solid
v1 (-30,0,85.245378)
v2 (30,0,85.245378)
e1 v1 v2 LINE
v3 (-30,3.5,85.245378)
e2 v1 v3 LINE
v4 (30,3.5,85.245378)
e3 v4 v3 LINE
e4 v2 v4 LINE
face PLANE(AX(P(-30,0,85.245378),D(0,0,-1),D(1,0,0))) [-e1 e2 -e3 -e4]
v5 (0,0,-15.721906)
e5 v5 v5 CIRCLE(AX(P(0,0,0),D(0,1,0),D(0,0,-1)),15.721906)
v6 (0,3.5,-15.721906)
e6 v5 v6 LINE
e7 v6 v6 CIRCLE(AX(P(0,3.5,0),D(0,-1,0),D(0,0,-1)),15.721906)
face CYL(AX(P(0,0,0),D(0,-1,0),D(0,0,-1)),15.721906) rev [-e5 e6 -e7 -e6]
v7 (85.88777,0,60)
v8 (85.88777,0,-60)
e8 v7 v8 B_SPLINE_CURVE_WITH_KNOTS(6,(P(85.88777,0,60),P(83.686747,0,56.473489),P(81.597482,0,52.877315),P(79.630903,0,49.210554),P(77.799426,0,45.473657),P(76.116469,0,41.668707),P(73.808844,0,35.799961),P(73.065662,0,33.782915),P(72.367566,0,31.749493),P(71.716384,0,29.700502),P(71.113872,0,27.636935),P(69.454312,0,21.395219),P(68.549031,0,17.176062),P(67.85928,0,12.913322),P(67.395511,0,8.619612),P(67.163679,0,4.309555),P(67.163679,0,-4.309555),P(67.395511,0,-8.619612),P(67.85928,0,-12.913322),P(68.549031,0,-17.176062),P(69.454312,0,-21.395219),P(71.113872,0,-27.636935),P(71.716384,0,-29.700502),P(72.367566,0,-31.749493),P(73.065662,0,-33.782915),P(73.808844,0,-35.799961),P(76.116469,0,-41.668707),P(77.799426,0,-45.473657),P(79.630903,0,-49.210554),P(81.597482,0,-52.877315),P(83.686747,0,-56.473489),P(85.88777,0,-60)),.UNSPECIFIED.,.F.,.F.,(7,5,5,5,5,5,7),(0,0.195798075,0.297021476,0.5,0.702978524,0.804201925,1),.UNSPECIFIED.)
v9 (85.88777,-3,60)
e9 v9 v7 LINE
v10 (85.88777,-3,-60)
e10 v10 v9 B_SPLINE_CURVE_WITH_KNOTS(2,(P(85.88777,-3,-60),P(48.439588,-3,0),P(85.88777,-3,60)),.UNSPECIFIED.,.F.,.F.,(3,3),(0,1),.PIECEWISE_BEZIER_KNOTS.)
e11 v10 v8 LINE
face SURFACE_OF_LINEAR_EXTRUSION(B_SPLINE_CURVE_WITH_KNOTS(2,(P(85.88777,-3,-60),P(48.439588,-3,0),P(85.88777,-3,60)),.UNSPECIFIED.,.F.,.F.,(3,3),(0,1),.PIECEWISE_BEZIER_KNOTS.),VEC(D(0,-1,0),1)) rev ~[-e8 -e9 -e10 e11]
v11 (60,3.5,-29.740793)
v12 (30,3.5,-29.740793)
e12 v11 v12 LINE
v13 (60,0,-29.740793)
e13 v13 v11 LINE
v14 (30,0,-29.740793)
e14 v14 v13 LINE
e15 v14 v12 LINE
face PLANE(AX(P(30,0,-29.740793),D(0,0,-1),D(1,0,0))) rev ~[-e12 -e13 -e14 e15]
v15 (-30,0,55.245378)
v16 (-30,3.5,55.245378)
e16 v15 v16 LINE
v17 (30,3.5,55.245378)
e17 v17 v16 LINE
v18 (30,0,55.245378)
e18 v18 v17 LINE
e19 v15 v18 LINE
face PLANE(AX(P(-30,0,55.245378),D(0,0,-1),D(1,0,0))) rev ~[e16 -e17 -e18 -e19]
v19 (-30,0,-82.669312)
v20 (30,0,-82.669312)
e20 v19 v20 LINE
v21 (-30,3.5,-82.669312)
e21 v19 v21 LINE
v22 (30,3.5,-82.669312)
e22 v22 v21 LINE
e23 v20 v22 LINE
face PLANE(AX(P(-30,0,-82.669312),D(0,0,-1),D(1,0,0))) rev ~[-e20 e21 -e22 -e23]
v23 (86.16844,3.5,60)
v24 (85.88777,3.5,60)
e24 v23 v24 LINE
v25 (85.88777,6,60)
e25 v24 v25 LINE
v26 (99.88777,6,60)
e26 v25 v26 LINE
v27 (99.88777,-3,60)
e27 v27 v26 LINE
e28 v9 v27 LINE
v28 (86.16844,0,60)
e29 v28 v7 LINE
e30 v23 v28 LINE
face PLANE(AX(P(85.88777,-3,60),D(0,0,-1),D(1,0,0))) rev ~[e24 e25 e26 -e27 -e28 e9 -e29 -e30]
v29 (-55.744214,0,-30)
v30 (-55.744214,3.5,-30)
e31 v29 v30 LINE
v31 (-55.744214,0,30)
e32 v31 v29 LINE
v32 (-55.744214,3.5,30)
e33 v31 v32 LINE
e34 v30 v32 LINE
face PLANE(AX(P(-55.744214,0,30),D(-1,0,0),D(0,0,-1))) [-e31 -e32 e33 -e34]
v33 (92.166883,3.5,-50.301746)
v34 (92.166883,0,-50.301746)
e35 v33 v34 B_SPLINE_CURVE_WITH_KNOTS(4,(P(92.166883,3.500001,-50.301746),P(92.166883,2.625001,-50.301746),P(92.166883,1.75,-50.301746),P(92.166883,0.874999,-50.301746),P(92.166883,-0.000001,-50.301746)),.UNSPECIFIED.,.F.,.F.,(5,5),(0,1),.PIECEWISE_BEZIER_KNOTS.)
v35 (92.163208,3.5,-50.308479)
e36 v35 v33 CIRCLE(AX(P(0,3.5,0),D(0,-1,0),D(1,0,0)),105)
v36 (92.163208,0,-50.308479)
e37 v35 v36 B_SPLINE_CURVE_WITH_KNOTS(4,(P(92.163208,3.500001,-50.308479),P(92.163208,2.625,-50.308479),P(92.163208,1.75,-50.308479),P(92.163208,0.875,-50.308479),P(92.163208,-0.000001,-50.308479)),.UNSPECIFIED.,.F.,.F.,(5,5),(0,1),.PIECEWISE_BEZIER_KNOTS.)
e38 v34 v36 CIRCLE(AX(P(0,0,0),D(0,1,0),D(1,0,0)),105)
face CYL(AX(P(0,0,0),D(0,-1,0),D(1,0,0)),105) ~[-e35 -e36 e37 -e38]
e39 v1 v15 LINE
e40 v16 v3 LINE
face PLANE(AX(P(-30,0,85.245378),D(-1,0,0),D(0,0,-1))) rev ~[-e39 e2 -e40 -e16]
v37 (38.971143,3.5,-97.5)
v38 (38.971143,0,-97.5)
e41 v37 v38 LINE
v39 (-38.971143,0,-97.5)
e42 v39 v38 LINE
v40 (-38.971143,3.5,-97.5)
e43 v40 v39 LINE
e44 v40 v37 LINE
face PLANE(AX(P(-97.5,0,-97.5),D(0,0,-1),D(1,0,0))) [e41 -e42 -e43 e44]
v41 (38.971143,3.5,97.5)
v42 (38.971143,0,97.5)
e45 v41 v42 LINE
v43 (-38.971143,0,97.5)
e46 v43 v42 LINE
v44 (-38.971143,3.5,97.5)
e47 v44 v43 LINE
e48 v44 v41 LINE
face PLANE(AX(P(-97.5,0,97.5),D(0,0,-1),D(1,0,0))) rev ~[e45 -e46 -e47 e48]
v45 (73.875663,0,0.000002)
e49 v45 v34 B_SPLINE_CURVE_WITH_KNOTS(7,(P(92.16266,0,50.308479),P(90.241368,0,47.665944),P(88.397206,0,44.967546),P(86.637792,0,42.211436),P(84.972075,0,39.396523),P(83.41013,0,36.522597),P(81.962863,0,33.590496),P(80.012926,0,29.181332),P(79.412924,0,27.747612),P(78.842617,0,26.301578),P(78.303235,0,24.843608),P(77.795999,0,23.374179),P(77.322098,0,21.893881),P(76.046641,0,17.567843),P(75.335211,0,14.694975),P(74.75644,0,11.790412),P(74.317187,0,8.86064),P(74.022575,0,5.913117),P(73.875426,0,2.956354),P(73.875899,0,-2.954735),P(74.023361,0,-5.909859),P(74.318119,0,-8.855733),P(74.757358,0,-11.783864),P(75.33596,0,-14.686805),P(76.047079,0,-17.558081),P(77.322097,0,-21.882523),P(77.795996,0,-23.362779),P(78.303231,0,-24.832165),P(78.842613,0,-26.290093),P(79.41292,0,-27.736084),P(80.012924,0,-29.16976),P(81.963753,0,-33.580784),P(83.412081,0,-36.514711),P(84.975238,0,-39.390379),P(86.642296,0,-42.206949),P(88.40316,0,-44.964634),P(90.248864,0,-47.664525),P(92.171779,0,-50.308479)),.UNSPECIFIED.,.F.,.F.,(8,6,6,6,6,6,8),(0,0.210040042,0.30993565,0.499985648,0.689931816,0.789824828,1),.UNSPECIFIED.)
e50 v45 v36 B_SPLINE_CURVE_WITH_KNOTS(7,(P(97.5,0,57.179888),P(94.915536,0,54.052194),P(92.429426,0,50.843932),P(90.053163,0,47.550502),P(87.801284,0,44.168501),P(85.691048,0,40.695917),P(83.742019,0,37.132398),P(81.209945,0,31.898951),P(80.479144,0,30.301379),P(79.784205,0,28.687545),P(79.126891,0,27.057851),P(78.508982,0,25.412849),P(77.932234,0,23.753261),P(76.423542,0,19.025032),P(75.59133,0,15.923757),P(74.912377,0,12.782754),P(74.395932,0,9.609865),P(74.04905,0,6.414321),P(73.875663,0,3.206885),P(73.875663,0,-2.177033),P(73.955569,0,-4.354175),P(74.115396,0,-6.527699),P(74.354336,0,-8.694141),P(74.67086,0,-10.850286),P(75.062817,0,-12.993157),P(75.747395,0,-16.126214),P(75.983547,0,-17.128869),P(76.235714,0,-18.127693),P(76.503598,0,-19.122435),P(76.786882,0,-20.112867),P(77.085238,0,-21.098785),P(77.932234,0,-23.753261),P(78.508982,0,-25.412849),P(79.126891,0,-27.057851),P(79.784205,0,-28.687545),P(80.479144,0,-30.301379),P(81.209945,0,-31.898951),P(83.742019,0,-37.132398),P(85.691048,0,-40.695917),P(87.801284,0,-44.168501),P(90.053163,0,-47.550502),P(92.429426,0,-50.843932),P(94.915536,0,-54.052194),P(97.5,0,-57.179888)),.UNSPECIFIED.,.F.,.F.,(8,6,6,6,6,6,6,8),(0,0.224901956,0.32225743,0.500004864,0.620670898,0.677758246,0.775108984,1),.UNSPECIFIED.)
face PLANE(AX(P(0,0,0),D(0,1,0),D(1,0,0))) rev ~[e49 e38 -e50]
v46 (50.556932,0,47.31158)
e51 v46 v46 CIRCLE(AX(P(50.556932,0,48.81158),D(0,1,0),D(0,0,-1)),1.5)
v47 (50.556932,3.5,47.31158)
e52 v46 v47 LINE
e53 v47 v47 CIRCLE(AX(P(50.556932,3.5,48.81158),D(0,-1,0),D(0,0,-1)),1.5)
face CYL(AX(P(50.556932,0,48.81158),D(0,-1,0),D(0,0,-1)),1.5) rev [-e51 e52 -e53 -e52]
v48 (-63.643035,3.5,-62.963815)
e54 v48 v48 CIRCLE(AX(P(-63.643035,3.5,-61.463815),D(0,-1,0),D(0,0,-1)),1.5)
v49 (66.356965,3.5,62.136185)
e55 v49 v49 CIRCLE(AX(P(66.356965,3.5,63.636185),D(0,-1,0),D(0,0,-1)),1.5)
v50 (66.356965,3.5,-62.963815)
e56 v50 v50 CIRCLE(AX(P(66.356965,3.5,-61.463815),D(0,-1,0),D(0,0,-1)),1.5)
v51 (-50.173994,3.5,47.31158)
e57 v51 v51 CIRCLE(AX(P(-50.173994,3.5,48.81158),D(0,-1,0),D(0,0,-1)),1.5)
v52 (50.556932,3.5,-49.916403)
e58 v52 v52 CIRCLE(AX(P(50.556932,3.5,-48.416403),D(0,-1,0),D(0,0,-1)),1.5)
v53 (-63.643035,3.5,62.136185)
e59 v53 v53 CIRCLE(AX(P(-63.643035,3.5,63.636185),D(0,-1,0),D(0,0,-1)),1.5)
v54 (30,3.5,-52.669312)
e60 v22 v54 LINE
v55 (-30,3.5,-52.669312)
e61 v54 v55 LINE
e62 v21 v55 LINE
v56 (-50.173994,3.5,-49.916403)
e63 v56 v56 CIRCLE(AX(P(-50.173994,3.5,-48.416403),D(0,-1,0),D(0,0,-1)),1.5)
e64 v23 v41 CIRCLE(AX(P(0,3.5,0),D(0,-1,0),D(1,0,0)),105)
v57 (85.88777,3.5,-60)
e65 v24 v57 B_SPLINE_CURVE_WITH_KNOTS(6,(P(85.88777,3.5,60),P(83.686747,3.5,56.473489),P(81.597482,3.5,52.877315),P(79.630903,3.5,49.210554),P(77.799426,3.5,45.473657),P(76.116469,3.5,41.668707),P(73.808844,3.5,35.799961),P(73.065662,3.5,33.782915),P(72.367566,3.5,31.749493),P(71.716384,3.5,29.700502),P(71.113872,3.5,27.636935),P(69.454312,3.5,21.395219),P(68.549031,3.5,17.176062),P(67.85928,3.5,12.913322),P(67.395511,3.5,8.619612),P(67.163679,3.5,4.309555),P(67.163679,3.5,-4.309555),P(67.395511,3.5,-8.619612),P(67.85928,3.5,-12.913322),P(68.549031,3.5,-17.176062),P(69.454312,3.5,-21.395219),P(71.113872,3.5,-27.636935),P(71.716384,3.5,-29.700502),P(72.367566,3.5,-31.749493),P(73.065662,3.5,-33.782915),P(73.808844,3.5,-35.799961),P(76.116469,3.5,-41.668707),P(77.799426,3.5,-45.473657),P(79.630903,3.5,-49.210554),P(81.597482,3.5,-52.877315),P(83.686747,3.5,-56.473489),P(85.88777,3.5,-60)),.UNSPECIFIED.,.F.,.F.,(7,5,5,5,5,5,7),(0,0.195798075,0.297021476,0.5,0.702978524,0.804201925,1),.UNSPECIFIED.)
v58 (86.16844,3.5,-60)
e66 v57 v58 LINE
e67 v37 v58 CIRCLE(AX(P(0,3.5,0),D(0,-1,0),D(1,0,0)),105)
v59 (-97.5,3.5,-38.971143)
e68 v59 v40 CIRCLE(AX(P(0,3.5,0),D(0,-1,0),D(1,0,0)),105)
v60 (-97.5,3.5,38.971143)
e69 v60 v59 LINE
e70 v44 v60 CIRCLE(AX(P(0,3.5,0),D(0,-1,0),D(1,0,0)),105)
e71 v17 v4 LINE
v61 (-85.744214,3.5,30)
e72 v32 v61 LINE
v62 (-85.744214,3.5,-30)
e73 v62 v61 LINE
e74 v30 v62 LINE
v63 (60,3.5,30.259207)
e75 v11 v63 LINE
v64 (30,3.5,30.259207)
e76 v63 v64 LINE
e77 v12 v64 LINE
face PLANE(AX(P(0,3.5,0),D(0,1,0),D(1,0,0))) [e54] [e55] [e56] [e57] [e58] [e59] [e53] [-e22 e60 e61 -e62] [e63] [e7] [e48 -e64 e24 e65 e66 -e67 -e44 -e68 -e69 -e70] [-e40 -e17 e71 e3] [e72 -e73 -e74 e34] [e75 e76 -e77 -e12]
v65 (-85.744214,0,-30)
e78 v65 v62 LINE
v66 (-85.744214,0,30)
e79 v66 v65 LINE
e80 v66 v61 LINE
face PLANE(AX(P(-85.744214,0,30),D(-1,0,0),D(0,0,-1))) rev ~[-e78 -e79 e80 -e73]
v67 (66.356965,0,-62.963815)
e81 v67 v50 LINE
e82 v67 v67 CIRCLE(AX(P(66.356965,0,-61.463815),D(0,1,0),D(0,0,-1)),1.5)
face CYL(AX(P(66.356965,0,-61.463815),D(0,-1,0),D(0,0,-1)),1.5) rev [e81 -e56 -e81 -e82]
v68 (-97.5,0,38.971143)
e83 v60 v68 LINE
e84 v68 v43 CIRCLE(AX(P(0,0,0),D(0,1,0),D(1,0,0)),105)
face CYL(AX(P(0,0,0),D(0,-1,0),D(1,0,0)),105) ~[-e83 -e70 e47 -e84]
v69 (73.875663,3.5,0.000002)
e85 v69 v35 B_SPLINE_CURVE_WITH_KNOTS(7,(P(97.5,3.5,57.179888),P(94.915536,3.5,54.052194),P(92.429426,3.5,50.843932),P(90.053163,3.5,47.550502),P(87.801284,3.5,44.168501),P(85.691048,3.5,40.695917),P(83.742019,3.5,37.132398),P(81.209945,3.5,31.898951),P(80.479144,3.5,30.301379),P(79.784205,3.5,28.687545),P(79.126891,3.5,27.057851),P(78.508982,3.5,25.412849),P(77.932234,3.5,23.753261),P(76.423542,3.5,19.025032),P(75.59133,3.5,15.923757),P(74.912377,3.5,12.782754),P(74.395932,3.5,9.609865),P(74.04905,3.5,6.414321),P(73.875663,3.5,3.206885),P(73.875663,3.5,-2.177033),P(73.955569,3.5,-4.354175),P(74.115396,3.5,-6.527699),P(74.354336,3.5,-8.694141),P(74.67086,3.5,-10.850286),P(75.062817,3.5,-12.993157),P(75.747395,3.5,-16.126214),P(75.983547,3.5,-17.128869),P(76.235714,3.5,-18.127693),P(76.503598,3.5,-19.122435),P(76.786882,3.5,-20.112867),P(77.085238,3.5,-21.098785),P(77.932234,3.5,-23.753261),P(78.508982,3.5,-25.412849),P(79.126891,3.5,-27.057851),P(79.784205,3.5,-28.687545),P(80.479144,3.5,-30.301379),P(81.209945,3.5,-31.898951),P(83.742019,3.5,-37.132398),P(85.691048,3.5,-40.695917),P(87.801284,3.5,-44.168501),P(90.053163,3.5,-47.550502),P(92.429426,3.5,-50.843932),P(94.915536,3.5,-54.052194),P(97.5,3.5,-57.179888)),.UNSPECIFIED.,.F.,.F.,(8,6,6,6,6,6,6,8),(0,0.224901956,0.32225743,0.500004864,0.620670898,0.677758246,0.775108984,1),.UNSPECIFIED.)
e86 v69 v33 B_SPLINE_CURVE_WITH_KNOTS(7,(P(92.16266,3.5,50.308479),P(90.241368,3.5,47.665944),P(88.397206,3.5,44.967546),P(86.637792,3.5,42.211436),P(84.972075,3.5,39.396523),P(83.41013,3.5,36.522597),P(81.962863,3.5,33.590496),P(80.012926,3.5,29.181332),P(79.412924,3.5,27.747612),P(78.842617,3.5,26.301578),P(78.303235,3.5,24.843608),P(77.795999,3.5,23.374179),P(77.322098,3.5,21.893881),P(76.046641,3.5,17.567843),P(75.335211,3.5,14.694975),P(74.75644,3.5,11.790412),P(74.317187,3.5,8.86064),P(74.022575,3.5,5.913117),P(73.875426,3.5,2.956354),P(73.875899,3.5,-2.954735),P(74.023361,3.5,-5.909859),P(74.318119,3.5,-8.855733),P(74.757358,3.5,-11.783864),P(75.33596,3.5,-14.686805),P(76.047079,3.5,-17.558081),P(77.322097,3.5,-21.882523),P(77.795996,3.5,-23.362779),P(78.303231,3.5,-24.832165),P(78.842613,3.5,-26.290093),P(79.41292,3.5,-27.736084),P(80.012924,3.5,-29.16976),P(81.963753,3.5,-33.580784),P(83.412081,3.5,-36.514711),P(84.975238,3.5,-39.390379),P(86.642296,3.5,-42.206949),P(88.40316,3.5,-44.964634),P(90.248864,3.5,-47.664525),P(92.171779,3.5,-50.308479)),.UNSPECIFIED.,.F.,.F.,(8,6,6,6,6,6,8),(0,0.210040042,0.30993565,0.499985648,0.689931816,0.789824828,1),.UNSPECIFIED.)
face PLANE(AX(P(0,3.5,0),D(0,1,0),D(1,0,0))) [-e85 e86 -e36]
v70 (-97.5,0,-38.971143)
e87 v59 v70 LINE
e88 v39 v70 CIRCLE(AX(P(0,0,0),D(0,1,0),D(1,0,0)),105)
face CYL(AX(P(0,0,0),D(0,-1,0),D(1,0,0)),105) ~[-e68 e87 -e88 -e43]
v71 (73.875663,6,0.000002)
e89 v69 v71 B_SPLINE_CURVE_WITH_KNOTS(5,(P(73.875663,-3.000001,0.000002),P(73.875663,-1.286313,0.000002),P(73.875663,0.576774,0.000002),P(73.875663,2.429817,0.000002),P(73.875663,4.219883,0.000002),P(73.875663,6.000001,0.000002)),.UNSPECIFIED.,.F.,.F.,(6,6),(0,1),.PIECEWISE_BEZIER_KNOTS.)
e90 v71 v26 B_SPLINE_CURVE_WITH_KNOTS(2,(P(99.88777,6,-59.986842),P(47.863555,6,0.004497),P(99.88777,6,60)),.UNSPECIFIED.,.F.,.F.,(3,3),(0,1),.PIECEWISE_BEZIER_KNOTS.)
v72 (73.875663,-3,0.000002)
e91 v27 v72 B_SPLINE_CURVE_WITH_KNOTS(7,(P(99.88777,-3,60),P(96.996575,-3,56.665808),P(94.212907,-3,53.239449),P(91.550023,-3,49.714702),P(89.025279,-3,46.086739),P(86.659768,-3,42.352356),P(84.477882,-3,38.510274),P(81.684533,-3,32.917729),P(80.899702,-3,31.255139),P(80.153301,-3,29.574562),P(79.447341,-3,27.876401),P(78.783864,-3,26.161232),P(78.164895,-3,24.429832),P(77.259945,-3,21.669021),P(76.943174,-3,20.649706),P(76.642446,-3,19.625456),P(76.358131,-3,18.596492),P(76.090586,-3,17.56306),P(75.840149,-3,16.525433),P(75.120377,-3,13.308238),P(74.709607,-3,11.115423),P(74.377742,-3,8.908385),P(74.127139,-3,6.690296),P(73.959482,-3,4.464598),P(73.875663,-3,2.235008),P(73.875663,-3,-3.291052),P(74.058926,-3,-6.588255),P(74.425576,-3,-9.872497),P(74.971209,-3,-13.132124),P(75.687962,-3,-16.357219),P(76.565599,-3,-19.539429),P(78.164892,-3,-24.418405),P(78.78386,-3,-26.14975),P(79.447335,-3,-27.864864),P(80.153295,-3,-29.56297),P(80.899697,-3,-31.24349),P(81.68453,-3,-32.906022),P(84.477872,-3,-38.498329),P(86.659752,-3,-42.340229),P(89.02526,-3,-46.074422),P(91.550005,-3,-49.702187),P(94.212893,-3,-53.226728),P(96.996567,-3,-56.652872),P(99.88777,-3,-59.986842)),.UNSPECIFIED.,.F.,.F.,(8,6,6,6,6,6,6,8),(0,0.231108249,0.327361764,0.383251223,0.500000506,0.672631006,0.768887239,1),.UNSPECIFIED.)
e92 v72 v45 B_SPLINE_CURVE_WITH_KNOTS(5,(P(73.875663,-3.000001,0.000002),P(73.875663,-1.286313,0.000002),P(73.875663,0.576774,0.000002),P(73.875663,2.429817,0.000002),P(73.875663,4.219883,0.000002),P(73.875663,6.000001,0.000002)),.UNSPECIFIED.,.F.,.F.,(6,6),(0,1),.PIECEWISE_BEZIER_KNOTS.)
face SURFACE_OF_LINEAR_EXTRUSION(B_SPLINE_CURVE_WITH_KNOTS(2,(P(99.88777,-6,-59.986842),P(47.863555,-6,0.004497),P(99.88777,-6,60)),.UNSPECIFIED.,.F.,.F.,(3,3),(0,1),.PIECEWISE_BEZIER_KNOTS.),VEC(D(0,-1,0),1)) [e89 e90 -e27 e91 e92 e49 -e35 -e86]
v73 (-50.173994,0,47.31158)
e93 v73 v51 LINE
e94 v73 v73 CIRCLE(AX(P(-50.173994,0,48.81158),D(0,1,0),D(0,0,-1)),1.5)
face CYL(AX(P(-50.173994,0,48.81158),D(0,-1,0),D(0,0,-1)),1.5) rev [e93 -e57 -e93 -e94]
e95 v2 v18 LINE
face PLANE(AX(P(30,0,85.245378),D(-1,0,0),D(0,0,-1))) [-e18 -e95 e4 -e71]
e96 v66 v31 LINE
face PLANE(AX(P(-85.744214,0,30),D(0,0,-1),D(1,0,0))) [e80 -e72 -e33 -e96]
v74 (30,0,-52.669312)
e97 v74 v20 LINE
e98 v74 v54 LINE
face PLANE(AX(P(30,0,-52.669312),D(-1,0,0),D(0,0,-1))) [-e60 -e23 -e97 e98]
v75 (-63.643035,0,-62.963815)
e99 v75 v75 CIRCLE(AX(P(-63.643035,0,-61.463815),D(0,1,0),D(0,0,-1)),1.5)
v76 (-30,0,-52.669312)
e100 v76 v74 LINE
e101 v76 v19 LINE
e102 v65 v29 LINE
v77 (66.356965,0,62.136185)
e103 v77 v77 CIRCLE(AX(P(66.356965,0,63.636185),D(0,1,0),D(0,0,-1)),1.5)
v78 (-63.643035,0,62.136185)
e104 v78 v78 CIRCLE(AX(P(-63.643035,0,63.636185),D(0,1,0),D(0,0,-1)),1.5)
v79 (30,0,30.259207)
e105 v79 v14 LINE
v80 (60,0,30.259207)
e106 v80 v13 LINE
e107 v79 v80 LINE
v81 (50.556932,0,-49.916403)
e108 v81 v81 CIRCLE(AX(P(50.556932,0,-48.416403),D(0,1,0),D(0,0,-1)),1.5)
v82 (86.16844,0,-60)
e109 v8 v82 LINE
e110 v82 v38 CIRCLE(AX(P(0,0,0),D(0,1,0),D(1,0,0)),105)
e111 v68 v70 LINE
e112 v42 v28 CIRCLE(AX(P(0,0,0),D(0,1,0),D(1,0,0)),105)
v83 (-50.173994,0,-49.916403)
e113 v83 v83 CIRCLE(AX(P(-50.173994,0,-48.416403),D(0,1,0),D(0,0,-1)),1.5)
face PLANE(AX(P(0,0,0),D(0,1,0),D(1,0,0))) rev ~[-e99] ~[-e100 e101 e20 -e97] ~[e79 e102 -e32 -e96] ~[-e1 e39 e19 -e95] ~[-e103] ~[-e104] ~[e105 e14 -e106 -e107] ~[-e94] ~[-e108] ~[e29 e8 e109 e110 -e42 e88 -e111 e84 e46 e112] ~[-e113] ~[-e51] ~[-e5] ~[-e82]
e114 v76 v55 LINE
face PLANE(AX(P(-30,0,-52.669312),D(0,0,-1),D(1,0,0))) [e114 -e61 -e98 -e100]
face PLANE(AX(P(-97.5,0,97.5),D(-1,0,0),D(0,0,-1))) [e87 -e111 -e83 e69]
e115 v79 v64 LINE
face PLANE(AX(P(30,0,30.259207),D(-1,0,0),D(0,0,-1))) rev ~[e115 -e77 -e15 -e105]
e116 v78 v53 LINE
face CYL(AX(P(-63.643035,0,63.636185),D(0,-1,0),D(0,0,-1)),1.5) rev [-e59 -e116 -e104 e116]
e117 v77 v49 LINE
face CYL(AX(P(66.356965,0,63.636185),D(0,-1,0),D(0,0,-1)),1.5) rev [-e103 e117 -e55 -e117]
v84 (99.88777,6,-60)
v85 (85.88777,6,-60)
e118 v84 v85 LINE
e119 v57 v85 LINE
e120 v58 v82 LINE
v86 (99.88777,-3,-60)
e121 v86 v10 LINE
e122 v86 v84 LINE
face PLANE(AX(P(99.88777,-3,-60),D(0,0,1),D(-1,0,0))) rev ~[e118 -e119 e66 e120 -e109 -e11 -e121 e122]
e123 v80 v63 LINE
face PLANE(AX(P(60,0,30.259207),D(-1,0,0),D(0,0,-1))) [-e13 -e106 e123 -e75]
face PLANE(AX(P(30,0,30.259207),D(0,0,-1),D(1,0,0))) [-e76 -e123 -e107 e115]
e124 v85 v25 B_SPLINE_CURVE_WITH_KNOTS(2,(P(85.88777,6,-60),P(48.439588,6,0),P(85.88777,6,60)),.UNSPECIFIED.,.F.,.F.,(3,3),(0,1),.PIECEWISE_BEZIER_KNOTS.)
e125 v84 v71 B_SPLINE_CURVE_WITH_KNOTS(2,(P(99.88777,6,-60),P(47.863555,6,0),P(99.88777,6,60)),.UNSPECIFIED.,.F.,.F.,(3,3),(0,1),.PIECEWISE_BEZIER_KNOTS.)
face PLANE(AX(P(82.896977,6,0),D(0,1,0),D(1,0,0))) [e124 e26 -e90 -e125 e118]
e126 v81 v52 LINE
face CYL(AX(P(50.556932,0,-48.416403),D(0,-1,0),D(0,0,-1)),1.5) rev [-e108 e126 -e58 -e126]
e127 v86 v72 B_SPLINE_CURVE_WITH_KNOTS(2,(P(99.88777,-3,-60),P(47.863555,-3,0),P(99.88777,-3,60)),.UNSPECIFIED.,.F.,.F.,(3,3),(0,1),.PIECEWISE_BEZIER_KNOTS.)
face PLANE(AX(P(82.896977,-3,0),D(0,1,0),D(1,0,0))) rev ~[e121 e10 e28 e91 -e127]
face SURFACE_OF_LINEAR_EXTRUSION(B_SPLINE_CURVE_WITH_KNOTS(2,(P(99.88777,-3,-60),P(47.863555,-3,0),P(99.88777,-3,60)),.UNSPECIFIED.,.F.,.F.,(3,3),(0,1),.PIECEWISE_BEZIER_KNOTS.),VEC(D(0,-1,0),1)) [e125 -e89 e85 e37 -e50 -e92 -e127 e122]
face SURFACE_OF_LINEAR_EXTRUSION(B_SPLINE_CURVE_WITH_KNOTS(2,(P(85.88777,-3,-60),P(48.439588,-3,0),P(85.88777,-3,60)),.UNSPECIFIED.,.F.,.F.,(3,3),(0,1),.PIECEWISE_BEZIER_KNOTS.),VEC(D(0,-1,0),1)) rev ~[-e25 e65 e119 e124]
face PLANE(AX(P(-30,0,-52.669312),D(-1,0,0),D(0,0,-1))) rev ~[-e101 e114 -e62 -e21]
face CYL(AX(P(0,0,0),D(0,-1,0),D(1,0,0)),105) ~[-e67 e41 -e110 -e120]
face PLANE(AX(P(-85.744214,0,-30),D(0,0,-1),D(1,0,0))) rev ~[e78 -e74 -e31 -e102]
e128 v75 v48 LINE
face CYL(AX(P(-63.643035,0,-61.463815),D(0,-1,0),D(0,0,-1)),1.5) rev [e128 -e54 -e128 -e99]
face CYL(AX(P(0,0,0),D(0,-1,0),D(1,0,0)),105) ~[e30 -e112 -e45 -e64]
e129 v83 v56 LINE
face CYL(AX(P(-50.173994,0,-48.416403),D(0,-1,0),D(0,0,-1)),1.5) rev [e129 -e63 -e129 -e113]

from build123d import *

# Parameters (mm, degrees)
SKETCH1_W                = 195
SKETCH1_H                = 195
BOSS_EXTRUDE3_DEPTH      = 3.5
SKETCH2_R                = 177.836364648
SKETCH2_R_2              = 105
CUT_EXTRUDE2_DEPTH       = 30
SKETCH4_W                = 30
SKETCH4_H                = 60
SKETCH4_W_2              = 60
SKETCH4_H_2              = 30
CUT_EXTRUDE7_DEPTH       = 5
BOSS_EXTRUDE5_DEPTH      = 6
BOSS_EXTRUDE5_DEPTH_BACK = 3
CUT_EXTRUDE12_DEPTH      = 6
CUT_EXTRUDE12_DEPTH_BACK = 6
SKETCH13_R               = 1.5
SKETCH13_R_2             = 15.721905528
TOP_TO_MID_STAND_DEPTH   = 6
SKETCH14_R               = 1.5
MIT_TO_BOT_STAND_DEPTH   = 6


with BuildPart() as part:
    # Sketch1 → Boss-Extrude3 (new body)
    with BuildSketch(Plane(origin=(0, 0, 0), x_dir=(1, 0, 0), z_dir=(0, 1, 0))):
        Rectangle(SKETCH1_W, SKETCH1_H)
    extrude(amount=BOSS_EXTRUDE3_DEPTH)

    # Sketch2 → Cut-Extrude2 (cut)
    with BuildSketch(Plane(origin=(0, 0, 0), x_dir=(1, 0, 0), z_dir=(0, 1, 0))):
        Circle(SKETCH2_R)
        Circle(SKETCH2_R_2, mode=Mode.SUBTRACT)
    extrude(amount=CUT_EXTRUDE2_DEPTH, mode=Mode.SUBTRACT)

    # Sketch4 → Cut-Extrude7 (cut)
    with BuildSketch(Plane(origin=(0, 0, 0), x_dir=(1, 0, 0), z_dir=(0, 1, 0))):
        with Locations((45, -0.259206865)):
            Rectangle(SKETCH4_W, SKETCH4_H)
        with Locations((0, 67.669311598)):
            Rectangle(SKETCH4_W_2, SKETCH4_H_2)
        with Locations((-70.744213578, 0)):
            Rectangle(SKETCH4_W, SKETCH4_H)
        with Locations((0, -70.245377815)):
            Rectangle(SKETCH4_W_2, SKETCH4_H_2)
    extrude(amount=CUT_EXTRUDE7_DEPTH, mode=Mode.SUBTRACT)

    # Sketch6 → Boss-Extrude5 (add, two sides: drawn at the far end of the back side and taken through both)
    with BuildSketch(Plane(origin=(0, 0, 0), x_dir=(1, 0, 0), z_dir=(0, 1, 0)).offset(-BOSS_EXTRUDE5_DEPTH_BACK)):
        with BuildLine():
            Line((99.887770318, 60), (85.887770318, 60))
            add(Edge.make_bspline(
                [(85.887770318, 60), (48.439587705, 0), (85.887770318, -60)],
                knots=[0, 0, 0, 1, 1, 1], degree=2))
            Line((85.887770318, -60), (99.887770318, -60))
            add(Edge.make_bspline(
                [(99.887770318, 60), (47.863555335, 0), (99.887770318, -60)],
                knots=[0, 0, 0, 1, 1, 1], degree=2))
        make_face()
    extrude(amount=BOSS_EXTRUDE5_DEPTH + BOSS_EXTRUDE5_DEPTH_BACK)

    # Sketch11 → Cut-Extrude12 (cut, two sides: drawn at the far end of the back side and taken through both)
    with BuildSketch(Plane(origin=(0, 0, 0), x_dir=(1, 0, 0), z_dir=(0, 1, 0)).offset(-CUT_EXTRUDE12_DEPTH_BACK)):
        with BuildLine():
            Line((99.887770318, -60), (114.577459752, -60))
            Line((114.577459752, -60), (112.469175223, 59.986841606))
            Line((112.469175223, 59.986841606), (99.887770318, 59.986841606))
            add(Edge.make_bspline(
                [(99.887770318, 59.986841606), (47.863554892, -0.004496949), (99.887770318, -60)],
                knots=[0, 0, 0, 1, 1, 1], degree=2))
        make_face()
    extrude(amount=CUT_EXTRUDE12_DEPTH + CUT_EXTRUDE12_DEPTH_BACK, mode=Mode.SUBTRACT)

    # Sketch13 → top to mid stand (cut)
    with BuildSketch(Plane(origin=(0, 0, 0), x_dir=(1, 0, 0), z_dir=(0, 1, 0))):
        with Locations(Location((-63.643035227, 61.463814798, 0), (0, 0, 90))):
            Circle(SKETCH13_R)
        with Locations(Location((66.356964773, 61.463814798, 0), (0, 0, 90))):
            Circle(SKETCH13_R)
        with Locations(Location((66.356964773, -63.636185202, 0), (0, 0, 90))):
            Circle(SKETCH13_R)
        with Locations(Location((-63.643035227, -63.636185202, 0), (0, 0, 90))):
            Circle(SKETCH13_R)
        with Locations(Location((0, 0, 0), (0, 0, 90))):
            Circle(SKETCH13_R_2)
    extrude(amount=TOP_TO_MID_STAND_DEPTH, mode=Mode.SUBTRACT)

    # Sketch14 → mit to bot stand (cut)
    with BuildSketch(Plane(origin=(0, 0, 0), x_dir=(1, 0, 0), z_dir=(0, 1, 0))):
        with Locations(Location((-50.173994207, 48.41640264, 0), (0, 0, 90))):
            Circle(SKETCH14_R)
        with Locations(Location((50.556931854, 48.41640264, 0), (0, 0, 90))):
            Circle(SKETCH14_R)
        with Locations(Location((50.556931854, -48.811579623, 0), (0, 0, 90))):
            Circle(SKETCH14_R)
        with Locations(Location((-50.173994207, -48.811579623, 0), (0, 0, 90))):
            Circle(SKETCH14_R)
    extrude(amount=MIT_TO_BOT_STAND_DEPTH, mode=Mode.SUBTRACT)


solid = part.part
